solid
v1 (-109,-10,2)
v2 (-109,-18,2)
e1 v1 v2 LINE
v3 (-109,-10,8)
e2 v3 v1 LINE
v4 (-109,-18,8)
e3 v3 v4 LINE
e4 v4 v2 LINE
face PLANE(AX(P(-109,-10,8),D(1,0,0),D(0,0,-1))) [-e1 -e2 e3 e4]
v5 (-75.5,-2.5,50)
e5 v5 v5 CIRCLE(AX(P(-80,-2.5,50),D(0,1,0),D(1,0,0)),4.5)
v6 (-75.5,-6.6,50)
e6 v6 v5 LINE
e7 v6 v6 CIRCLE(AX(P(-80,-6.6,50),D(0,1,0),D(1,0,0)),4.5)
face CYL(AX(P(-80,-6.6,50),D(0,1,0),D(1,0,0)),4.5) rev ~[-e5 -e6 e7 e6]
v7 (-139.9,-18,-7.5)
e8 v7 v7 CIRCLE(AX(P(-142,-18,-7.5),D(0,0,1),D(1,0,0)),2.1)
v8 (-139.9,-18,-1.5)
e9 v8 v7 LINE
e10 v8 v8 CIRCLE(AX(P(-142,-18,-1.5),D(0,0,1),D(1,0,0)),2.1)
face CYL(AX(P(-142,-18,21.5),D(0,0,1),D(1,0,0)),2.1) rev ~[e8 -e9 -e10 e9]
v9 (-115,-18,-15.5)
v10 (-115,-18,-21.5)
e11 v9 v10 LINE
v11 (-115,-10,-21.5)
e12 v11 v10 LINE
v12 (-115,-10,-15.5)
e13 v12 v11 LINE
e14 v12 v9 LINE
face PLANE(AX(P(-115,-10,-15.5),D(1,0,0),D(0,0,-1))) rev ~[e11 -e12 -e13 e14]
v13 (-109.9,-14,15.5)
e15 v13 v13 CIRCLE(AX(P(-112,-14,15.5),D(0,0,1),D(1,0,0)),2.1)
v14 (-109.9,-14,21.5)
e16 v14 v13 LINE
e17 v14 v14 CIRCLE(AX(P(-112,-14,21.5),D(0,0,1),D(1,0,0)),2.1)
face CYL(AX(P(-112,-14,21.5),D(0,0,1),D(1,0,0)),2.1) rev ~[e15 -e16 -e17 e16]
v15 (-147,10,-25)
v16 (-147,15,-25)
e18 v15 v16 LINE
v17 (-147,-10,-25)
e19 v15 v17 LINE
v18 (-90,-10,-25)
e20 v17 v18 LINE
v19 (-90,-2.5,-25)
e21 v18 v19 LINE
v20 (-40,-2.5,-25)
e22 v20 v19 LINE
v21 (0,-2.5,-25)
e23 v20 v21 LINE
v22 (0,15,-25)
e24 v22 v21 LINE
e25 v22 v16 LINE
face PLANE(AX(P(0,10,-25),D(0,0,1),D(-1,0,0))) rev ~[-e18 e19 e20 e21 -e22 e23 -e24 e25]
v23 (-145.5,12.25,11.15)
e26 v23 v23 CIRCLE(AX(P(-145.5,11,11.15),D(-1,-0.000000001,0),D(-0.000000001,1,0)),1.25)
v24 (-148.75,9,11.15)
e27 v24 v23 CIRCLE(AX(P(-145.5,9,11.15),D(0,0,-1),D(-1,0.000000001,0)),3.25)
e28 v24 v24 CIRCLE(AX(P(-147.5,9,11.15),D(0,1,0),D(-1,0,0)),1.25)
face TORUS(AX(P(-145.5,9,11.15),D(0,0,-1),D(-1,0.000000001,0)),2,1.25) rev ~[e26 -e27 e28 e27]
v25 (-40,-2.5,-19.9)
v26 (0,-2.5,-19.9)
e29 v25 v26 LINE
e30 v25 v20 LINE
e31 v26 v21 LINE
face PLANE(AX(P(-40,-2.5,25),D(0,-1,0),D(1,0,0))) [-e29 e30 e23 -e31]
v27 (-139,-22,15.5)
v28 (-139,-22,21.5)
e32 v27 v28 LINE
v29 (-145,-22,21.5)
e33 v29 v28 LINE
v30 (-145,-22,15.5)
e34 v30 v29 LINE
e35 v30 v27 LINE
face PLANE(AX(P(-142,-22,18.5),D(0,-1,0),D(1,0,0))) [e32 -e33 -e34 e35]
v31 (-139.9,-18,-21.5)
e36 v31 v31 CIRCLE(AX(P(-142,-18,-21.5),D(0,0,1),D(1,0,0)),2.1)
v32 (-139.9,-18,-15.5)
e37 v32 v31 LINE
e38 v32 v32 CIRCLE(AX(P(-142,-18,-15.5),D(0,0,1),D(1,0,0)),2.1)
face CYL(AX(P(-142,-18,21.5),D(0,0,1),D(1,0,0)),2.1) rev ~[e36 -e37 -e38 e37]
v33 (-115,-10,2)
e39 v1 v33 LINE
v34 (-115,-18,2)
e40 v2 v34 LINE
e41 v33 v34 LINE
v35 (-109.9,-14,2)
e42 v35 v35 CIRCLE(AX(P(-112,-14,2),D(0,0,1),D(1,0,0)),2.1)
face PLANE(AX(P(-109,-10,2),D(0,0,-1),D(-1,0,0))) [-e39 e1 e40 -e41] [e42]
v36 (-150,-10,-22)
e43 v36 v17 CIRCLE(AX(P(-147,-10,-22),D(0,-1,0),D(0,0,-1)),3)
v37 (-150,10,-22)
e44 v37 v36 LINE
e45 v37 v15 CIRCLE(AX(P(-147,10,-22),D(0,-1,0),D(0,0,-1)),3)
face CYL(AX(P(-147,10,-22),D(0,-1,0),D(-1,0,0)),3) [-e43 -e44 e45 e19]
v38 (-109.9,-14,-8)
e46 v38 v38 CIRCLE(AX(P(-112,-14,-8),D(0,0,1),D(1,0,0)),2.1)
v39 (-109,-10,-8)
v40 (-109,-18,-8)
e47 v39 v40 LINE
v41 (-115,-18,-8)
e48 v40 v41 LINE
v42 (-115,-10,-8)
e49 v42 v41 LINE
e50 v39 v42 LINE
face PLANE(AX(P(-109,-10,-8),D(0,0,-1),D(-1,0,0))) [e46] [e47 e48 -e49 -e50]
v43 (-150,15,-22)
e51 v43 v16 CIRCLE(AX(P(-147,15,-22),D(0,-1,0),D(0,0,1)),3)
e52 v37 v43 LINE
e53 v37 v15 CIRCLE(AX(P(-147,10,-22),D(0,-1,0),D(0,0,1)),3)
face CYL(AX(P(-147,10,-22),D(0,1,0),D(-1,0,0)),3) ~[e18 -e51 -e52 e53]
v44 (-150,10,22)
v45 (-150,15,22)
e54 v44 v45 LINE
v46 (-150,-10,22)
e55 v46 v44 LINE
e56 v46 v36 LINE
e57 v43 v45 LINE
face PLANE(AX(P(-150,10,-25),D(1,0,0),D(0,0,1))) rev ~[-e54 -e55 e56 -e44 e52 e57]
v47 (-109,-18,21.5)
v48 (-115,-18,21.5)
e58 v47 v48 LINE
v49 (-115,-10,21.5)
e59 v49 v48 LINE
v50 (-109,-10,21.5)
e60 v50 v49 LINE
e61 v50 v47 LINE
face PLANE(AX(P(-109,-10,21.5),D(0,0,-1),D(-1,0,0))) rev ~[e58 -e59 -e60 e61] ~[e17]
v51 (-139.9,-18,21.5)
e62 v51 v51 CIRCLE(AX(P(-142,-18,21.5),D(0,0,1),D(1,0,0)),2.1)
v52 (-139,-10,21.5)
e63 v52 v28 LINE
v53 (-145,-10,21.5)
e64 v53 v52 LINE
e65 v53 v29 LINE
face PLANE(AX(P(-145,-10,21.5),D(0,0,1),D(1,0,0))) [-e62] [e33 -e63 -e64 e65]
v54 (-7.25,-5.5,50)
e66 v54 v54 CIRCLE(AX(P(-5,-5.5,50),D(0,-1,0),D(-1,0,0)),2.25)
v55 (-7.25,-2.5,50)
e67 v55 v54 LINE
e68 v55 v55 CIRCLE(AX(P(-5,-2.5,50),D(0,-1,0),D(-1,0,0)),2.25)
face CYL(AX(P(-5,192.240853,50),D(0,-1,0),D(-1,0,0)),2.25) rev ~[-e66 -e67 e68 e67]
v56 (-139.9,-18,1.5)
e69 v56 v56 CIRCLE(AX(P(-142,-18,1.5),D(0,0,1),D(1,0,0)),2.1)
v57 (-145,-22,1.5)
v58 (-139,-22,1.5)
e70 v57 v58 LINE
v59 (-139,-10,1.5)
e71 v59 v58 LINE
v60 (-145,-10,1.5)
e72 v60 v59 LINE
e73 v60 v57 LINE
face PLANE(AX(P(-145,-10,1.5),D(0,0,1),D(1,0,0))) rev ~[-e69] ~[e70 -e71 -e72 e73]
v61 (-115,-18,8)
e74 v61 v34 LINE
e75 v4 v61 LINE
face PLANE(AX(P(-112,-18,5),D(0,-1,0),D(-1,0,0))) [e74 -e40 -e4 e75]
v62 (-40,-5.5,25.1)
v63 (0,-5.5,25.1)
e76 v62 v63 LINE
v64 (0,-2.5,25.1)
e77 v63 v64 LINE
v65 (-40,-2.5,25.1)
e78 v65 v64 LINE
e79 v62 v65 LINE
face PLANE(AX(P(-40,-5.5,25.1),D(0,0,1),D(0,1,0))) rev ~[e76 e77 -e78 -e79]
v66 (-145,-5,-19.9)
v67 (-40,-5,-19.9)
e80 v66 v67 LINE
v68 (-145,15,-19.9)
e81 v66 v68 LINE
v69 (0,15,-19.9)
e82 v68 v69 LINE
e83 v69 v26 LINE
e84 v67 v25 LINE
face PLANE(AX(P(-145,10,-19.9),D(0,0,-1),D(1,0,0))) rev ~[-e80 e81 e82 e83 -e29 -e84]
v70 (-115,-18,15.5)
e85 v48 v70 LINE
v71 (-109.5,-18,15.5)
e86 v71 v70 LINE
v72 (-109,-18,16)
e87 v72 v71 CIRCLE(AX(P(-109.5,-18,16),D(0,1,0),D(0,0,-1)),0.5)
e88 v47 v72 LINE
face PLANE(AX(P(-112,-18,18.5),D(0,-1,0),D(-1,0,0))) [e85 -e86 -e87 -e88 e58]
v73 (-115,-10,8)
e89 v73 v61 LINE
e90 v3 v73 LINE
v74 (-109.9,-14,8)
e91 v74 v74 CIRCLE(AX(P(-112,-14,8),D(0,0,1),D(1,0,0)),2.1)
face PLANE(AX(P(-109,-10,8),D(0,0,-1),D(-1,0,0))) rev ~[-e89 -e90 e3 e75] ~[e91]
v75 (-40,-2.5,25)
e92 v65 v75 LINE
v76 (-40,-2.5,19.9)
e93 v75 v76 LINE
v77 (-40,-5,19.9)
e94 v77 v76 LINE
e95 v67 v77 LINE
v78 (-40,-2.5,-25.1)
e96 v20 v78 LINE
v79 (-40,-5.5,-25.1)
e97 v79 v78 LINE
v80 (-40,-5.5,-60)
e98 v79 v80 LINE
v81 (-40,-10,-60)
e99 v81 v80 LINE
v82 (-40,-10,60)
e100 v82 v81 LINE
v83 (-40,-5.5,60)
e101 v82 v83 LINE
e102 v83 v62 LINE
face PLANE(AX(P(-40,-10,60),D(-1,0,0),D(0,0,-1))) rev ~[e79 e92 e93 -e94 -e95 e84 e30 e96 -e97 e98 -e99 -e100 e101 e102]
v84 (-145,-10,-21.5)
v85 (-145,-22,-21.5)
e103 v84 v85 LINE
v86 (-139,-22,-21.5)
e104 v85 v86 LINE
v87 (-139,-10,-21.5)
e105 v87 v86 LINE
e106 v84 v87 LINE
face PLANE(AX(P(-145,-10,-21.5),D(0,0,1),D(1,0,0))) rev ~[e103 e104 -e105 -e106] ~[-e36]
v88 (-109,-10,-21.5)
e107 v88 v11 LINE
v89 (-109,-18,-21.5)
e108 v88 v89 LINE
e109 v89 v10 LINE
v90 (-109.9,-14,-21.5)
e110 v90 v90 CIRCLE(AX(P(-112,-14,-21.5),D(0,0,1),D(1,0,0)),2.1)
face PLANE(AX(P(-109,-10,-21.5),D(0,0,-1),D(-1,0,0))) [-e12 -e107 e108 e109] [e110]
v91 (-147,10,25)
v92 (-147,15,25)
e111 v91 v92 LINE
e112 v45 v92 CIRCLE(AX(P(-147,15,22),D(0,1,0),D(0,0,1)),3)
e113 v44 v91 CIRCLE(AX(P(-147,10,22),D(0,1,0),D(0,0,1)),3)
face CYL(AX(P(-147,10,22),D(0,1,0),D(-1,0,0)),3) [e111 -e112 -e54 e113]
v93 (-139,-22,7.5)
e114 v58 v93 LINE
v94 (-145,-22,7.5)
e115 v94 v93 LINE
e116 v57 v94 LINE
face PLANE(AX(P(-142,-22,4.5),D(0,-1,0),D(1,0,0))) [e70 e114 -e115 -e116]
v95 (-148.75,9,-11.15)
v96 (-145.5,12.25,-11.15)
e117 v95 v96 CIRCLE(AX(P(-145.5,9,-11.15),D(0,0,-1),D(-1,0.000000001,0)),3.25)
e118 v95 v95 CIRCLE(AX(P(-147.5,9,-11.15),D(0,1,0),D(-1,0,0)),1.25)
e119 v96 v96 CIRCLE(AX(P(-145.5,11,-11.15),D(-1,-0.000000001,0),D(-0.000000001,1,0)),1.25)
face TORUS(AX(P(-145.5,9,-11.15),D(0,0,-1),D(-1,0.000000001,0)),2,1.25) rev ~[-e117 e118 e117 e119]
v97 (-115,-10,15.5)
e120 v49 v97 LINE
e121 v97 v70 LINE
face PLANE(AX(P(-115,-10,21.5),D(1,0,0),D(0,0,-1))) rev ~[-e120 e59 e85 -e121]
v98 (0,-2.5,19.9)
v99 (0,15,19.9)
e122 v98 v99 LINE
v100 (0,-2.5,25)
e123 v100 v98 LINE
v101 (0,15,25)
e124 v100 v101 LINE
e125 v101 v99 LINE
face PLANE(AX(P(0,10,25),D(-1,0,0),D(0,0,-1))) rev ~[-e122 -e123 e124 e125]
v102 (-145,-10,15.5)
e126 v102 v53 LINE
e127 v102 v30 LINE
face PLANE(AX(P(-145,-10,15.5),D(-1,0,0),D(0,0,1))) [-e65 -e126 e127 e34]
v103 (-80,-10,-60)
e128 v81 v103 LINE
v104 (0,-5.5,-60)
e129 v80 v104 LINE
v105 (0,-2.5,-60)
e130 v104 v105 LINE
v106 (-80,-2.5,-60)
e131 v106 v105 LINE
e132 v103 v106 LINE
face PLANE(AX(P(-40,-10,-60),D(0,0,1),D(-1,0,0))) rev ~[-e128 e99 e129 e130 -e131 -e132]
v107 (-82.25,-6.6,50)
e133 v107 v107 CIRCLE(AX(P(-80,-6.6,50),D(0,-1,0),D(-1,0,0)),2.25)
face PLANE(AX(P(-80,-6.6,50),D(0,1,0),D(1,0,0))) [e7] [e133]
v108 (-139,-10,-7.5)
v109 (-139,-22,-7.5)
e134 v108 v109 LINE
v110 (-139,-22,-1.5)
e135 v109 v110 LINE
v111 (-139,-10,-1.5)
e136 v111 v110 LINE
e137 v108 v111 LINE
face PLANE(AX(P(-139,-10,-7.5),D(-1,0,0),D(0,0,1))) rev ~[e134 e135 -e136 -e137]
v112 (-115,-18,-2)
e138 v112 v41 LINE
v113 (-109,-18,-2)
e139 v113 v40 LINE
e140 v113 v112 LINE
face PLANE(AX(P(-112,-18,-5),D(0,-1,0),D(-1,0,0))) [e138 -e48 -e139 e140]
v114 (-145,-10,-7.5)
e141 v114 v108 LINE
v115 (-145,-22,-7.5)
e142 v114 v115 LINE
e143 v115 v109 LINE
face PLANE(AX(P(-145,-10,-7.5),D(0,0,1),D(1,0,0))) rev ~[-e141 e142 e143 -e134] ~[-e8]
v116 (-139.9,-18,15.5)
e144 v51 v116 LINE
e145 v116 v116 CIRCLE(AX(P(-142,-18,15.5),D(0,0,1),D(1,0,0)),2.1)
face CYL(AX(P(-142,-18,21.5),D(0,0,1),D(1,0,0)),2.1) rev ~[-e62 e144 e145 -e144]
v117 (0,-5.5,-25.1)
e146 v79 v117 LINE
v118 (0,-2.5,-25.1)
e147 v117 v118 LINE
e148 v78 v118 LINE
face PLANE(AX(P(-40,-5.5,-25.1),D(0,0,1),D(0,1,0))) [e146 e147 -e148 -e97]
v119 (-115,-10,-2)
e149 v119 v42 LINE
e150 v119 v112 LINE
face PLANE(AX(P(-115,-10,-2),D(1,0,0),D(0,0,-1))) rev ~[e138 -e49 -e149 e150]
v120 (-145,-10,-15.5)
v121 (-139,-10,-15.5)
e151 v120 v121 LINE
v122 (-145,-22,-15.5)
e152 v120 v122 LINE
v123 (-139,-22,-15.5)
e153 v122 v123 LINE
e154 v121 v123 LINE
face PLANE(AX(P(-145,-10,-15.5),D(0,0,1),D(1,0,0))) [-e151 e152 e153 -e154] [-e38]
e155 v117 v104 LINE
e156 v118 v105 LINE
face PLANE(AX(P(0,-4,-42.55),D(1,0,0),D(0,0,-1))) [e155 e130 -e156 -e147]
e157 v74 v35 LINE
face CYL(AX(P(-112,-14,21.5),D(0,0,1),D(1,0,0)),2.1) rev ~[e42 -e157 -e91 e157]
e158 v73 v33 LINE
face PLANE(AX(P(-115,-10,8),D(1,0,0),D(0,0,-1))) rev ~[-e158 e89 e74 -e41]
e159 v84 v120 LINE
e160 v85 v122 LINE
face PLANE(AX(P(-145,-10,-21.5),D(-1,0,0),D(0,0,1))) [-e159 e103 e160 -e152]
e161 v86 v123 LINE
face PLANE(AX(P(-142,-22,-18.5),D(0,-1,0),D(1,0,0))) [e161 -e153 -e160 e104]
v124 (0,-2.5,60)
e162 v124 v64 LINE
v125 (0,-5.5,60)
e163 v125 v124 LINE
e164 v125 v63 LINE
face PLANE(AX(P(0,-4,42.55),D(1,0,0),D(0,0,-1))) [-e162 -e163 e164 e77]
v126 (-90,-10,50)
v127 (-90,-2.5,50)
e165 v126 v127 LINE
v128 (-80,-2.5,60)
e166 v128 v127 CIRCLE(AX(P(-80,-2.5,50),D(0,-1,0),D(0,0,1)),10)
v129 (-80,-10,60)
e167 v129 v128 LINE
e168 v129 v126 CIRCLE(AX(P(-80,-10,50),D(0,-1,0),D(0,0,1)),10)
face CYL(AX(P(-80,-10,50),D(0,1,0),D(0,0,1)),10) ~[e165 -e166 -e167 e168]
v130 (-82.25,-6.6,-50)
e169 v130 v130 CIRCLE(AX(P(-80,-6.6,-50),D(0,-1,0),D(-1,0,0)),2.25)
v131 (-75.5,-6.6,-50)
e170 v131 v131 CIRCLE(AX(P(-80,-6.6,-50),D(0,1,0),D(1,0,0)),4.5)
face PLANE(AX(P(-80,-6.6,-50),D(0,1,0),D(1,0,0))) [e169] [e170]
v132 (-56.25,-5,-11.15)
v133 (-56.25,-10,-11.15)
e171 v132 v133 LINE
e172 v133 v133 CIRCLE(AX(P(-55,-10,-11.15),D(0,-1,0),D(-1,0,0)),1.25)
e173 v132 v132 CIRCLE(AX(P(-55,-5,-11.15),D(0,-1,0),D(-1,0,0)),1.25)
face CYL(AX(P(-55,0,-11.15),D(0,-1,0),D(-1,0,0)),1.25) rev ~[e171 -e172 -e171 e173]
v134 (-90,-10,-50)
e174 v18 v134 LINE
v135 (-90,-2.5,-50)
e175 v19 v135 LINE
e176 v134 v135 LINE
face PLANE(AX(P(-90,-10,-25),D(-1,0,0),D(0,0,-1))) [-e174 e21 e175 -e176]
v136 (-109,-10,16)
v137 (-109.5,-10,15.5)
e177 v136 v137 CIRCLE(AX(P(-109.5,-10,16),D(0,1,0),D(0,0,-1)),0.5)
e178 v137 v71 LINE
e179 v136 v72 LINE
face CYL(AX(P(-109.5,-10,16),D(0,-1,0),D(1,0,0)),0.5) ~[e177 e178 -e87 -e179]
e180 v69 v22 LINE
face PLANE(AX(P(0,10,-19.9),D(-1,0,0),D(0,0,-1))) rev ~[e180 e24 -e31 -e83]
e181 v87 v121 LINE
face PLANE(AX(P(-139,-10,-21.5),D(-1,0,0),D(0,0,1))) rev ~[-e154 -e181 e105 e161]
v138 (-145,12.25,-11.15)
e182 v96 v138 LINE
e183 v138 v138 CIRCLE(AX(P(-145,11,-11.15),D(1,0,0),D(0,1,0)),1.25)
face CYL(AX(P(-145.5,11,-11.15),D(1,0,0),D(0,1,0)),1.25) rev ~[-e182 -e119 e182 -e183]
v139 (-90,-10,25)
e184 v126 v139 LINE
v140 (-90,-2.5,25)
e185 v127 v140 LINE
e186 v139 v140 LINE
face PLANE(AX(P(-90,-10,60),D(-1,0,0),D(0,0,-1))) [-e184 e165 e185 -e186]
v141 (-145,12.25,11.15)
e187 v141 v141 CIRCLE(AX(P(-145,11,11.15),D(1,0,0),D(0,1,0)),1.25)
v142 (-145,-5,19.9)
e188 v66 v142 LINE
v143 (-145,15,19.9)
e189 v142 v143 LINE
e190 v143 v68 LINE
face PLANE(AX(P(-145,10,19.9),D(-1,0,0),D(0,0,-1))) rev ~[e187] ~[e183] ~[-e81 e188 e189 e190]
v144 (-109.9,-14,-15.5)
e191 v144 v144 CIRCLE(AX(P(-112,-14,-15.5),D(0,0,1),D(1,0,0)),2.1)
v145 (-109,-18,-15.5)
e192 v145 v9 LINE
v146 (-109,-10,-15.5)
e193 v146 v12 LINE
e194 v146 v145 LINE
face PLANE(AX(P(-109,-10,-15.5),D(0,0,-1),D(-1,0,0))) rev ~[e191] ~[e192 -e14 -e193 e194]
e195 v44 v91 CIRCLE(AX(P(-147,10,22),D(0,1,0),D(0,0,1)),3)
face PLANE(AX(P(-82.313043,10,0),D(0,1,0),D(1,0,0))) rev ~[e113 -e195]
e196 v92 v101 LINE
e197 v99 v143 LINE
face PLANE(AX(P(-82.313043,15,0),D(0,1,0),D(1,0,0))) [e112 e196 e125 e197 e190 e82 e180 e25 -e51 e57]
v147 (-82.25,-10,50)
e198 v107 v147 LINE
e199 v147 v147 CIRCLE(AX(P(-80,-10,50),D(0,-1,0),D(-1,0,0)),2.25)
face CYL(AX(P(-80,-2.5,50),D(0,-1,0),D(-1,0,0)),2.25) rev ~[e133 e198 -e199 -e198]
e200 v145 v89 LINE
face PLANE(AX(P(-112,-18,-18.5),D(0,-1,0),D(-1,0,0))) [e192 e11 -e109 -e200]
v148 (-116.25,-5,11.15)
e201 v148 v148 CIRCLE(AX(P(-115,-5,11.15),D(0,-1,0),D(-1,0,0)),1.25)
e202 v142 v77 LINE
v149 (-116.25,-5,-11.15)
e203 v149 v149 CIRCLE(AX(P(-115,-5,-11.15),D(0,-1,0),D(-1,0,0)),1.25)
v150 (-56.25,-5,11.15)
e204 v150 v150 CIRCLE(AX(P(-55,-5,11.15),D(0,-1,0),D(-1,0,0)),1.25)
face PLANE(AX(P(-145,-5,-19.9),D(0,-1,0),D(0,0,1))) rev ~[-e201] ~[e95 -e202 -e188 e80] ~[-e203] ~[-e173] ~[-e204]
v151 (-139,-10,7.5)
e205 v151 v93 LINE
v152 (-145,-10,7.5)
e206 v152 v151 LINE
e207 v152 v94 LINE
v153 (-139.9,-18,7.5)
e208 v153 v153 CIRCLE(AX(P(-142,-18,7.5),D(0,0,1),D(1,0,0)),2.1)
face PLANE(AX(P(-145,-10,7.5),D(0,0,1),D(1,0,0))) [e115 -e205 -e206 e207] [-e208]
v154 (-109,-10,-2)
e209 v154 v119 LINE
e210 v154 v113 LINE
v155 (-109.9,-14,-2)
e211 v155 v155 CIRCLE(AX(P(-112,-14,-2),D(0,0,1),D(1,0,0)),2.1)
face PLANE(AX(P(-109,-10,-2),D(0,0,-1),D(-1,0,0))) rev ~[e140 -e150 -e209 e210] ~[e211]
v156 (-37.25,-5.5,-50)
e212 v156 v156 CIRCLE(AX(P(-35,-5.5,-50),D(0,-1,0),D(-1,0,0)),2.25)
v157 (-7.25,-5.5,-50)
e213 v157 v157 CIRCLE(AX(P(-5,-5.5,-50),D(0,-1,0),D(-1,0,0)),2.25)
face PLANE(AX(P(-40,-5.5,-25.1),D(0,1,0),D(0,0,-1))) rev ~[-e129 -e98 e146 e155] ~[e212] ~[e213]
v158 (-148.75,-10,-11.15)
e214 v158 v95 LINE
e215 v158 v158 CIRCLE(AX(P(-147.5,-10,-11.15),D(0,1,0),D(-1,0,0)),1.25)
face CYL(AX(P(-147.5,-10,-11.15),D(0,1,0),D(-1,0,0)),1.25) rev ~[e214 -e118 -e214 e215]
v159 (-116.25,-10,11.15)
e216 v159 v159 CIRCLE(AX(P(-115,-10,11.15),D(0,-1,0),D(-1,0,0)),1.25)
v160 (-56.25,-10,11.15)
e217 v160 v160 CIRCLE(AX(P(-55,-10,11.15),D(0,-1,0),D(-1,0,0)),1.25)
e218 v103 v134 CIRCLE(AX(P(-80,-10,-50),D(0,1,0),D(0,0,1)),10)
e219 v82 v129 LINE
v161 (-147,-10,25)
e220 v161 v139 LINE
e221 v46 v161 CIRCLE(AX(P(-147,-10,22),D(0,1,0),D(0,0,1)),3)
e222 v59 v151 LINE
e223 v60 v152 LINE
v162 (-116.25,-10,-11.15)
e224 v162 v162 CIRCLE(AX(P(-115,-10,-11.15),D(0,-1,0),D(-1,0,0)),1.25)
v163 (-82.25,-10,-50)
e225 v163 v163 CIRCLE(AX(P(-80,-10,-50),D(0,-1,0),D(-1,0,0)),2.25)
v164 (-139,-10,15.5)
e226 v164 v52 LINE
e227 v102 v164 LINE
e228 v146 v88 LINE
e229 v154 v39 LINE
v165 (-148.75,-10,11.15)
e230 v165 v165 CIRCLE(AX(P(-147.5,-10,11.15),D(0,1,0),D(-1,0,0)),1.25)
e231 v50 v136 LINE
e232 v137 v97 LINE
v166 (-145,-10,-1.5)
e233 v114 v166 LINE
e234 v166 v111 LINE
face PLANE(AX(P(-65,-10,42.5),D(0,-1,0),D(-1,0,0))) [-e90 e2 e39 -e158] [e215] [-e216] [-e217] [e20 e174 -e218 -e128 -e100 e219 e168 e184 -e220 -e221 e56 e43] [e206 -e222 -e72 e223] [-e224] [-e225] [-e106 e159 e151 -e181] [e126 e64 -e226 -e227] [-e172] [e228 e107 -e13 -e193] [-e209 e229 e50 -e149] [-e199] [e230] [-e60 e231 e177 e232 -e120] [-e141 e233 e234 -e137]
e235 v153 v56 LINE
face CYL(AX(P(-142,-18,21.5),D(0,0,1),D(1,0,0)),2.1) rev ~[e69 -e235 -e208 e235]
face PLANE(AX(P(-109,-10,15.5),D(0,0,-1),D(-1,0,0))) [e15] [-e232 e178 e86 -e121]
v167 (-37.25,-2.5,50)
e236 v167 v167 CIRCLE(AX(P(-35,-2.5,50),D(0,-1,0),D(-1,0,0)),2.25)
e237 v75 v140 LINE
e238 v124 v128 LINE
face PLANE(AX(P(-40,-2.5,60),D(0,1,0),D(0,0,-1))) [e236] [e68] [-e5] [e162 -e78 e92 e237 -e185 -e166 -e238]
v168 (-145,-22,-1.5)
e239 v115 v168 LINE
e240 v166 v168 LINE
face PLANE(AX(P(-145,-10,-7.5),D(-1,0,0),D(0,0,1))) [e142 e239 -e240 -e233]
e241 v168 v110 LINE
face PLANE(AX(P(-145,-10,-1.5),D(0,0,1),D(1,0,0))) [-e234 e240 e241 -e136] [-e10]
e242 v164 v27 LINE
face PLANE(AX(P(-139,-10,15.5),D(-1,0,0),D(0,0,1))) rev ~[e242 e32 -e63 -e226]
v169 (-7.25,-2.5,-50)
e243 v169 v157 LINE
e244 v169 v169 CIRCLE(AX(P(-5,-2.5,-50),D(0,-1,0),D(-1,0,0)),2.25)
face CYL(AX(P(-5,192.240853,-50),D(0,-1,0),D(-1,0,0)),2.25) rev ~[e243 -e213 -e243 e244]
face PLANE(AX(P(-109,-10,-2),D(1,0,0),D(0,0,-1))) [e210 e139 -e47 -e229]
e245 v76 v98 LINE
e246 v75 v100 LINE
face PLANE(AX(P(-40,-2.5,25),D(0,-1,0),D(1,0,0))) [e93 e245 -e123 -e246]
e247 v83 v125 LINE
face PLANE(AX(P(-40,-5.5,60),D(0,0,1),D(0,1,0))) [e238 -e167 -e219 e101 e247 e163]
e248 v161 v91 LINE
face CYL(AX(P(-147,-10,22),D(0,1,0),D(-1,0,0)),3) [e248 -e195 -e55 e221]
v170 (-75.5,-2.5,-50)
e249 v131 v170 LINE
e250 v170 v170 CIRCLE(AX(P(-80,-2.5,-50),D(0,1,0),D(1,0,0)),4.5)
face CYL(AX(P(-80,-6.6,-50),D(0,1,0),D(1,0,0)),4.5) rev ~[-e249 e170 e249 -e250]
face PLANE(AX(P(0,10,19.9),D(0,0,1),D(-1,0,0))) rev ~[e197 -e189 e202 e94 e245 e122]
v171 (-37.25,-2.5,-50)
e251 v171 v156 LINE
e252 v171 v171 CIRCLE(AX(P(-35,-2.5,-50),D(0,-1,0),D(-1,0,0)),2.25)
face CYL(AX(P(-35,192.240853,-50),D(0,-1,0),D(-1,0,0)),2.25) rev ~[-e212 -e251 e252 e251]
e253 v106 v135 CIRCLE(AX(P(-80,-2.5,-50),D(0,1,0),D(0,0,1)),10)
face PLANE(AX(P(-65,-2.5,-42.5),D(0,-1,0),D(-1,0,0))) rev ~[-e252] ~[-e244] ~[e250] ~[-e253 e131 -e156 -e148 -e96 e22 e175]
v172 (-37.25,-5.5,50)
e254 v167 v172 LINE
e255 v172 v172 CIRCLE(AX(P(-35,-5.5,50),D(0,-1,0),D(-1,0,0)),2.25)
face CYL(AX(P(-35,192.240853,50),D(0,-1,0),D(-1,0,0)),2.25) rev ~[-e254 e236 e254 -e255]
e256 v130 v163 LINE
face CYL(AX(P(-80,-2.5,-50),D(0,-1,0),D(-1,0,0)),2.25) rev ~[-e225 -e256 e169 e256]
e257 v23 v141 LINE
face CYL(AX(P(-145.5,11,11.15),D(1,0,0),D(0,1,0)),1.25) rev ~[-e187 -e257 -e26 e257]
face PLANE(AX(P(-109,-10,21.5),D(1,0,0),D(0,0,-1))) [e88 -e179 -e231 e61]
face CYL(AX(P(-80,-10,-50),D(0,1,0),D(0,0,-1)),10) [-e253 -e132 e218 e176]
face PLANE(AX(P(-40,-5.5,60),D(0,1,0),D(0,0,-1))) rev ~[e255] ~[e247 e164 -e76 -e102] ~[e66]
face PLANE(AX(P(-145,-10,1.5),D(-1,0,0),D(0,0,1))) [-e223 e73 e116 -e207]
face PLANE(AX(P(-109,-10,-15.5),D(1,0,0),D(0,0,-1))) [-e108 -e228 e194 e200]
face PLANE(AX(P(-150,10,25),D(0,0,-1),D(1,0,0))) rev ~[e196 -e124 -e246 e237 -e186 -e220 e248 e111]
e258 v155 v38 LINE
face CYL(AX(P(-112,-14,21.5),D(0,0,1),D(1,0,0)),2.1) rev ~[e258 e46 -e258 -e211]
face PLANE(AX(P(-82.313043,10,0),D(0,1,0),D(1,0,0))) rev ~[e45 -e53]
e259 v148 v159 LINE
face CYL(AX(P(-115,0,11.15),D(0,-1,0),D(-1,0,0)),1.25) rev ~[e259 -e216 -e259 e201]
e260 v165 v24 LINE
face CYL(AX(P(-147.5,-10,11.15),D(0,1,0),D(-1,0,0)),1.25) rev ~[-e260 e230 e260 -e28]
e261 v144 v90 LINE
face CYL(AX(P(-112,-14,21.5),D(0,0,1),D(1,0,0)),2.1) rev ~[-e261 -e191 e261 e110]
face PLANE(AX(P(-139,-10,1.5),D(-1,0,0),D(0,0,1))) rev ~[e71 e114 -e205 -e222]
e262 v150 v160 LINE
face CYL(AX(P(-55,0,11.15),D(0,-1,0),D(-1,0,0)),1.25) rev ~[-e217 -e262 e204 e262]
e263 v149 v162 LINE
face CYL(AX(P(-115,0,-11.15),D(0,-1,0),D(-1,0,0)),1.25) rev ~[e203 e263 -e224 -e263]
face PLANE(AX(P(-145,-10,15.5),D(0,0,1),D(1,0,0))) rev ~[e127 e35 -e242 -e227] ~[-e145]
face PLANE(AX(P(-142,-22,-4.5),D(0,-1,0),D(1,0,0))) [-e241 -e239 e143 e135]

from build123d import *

# Parameters (mm, degrees)
SKETCH_1_W                   = 300
SKETCH_1_H                   = 50
EXTRUDE_1_DEPTH              = 10
SKETCH_2_W                   = 300
SKETCH_2_H                   = 10.1
SKETCH_2_H_2                 = 9.2
CUT_EXTRUDE_1_DEPTH          = 5
FILLET_1_R                   = 3
CUT_EXTRUDE_START            = -5
SKETCH_10_W                  = 39.8
SKETCH_10_H                  = 15
CUT_EXTRUDE_4_DEPTH          = 145
CUT_EXTRUDE_6_DEPTH          = 51
SKETCH_13_W                  = 50
SKETCH_13_H                  = 35
EXTRUDE_2_DEPTH              = 7.5
HOLE_WIZARD_M4_1_D           = 4.5
HOLE_WIZARD_M4_1_CBORE_D     = 9
HOLE_WIZARD_M4_1_CBORE_DEPTH = 4.1
SKETCH_16_W                  = 6
SKETCH_16_H                  = 6
EXTRUDE_3_DEPTH              = 8
SKETCH_17_R                  = 2.1
CUT_EXTRUDE_7_DEPTH          = 82.5
SKETCH_19_W                  = 6
SKETCH_19_H                  = 6
EXTRUDE_4_DEPTH              = 12
SKETCH_20_R                  = 2.1
CUT_EXTRUDE_9_DEPTH          = 82.5
SKETCH_23_W                  = 34.9
SKETCH_23_H                  = 3
EXTRUDE_9_DEPTH              = 40
HOLE_WIZARD_M4_1_2_D         = 4.5
FILLET_2_R                   = 0.5
SKETCH_27_W                  = 5
SKETCH_27_H                  = 32.4
EXTRUDE_10_DEPTH             = 5
HOLE_WIZARD_M3_1_D           = 2.5
HOLE_WIZARD_M3_1_DEPTH       = 5
EXTRUDE_12_DEPTH             = 5
FILLET_3_R                   = 3
SKETCH_21_R                  = 1.25
FILLET_4_R                   = 10


with BuildPart() as part:
    # 스케치1 → 보스-돌출1 (new body, symmetric)
    with BuildSketch(Plane(origin=(0, 0, 0), x_dir=(1, 0, 0), z_dir=(0, 1, 0))):
        Rectangle(SKETCH_1_W, SKETCH_1_H)
    extrude(amount=EXTRUDE_1_DEPTH, both=True)

    # 스케치2 → 컷-돌출1 (cut)
    with BuildSketch(Plane(origin=(0, 10, 0), x_dir=(1, 0, 0), z_dir=(0, 1, 0))):
        with Locations((0, 11.15)):
            Rectangle(SKETCH_2_W, SKETCH_2_H)
        Rectangle(SKETCH_2_W, SKETCH_2_H_2)
        with Locations((0, -11.15)):
            Rectangle(SKETCH_2_W, SKETCH_2_H)
    extrude(amount=-CUT_EXTRUDE_1_DEPTH, mode=Mode.SUBTRACT)

    # 필렛1
    fillet_1_edges = [part.edges().sort_by_distance(p)[0] for p in [
        (150, 0, 25),
        (-150, 0, 25),
        (-150, 0, -25),
        (150, 0, -25),
    ]]
    fillet(fillet_1_edges, radius=FILLET_1_R)

    # 스케치10 → 컷-돌출4 (cut)
    with BuildSketch(Plane.ZY.offset(150).offset(CUT_EXTRUDE_START)):
        with Locations((0, 2.5)):
            Rectangle(SKETCH_10_W, SKETCH_10_H)
    extrude(amount=-CUT_EXTRUDE_4_DEPTH, mode=Mode.SUBTRACT)

    # 스케치12 → 컷-돌출6 (cut, through all)
    with BuildSketch(Plane.XY.offset(25)):
        Polygon((-40, -10), (-40, -2.5), (0, -2.5), (0, 10), (150, 10), (150, -10), align=None)
    extrude(amount=-CUT_EXTRUDE_6_DEPTH, mode=Mode.SUBTRACT)

    # 스케치13 → 보스-돌출2 (add)
    with BuildSketch(Plane(origin=(0, -10, 0), x_dir=(-1, 0, 0), z_dir=(0, -1, 0))):
        with Locations((65, -42.5)):
            Rectangle(SKETCH_13_W, SKETCH_13_H)
        with Locations((65, 42.5)):
            Rectangle(SKETCH_13_W, SKETCH_13_H)
    extrude(amount=-EXTRUDE_2_DEPTH)

    # Hole Wizard M4 _ _ _ _1 (through all)
    with Locations(Plane(origin=(0, -2.5, 0), x_dir=(1, 0, 0), z_dir=(0, 1, 0))):
        with Locations((-80, 50), (-80, -50)):
            CounterBoreHole(HOLE_WIZARD_M4_1_D / 2, HOLE_WIZARD_M4_1_CBORE_D / 2, HOLE_WIZARD_M4_1_CBORE_DEPTH)

    # 스케치16 → 보스-돌출3 (add)
    with BuildSketch(Plane(origin=(0, -10, 0), x_dir=(-1, 0, 0), z_dir=(0, -1, 0))):
        with Locations((112, -18.5)):
            Rectangle(SKETCH_16_W, SKETCH_16_H)
        with Locations((112, -5)):
            Rectangle(SKETCH_16_W, SKETCH_16_H)
        with Locations((112, 5)):
            Rectangle(SKETCH_16_W, SKETCH_16_H)
        with Locations((112, 18.5)):
            Rectangle(SKETCH_16_W, SKETCH_16_H)
    extrude(amount=EXTRUDE_3_DEPTH)

    # 스케치17 → 컷-돌출7 (cut, through all)
    with BuildSketch(Plane.XY.offset(21.5)):
        with Locations((-112, -14)):
            Circle(SKETCH_17_R)
    extrude(amount=-CUT_EXTRUDE_7_DEPTH, mode=Mode.SUBTRACT)

    # 스케치19 → 보스-돌출4 (add)
    with BuildSketch(Plane.XZ.offset(10)):
        with Locations((-142, 18.5)):
            Rectangle(SKETCH_19_W, SKETCH_19_H)
        with Locations((-142, 4.5)):
            Rectangle(SKETCH_19_W, SKETCH_19_H)
        with Locations((-142, -4.5)):
            Rectangle(SKETCH_19_W, SKETCH_19_H)
        with Locations((-142, -18.5)):
            Rectangle(SKETCH_19_W, SKETCH_19_H)
    extrude(amount=EXTRUDE_4_DEPTH)

    # 스케치20 → 컷-돌출9 (cut, through all)
    with BuildSketch(Plane.XY.offset(21.5)):
        with Locations((-142, -18)):
            Circle(SKETCH_20_R)
    extrude(amount=-CUT_EXTRUDE_9_DEPTH, mode=Mode.SUBTRACT)

    # 스케치23 → 보스-돌출9 (add)
    with BuildSketch(Plane(origin=(-40, 0, 0), x_dir=(0, 0, -1), z_dir=(1, 0, 0))):
        with Locations((-42.55, -4)):
            Rectangle(SKETCH_23_W, SKETCH_23_H)
        with Locations((42.55, -4)):
            Rectangle(SKETCH_23_W, SKETCH_23_H)
    extrude(amount=EXTRUDE_9_DEPTH)

    # Hole Wizard M4 _ _1 2 (through all)
    with Locations(Plane(origin=(0, -2.5, 0), x_dir=(1, 0, 0), z_dir=(0, 1, 0))):
        with Locations((-35, 50), (-5, 50), (-5, -50), (-35, -50)):
            Hole(HOLE_WIZARD_M4_1_2_D / 2)

    # 필렛2
    fillet_2_edges = [part.edges().sort_by_distance(p)[0] for p in [
        (-109, -14, 15.5),
    ]]
    fillet(fillet_2_edges, radius=FILLET_2_R)

    # 스케치27 → 보스-돌출10 (add)
    with BuildSketch(Plane(origin=(0, 5, 0), x_dir=(1, 0, 0), z_dir=(0, 1, 0))):
        with Locations((-147.5, 0)):
            Rectangle(SKETCH_27_W, SKETCH_27_H)
    extrude(amount=EXTRUDE_10_DEPTH)

    # M3 나사 구멍1
    with Locations(Plane(origin=(0, -5, 0), x_dir=(1, 0, 0), z_dir=(0, 1, 0))):
        with Locations((-115, 11.15), (-115, -11.15), (-55, 11.15), (-55, -11.15)):
            Hole(HOLE_WIZARD_M3_1_D / 2, depth=HOLE_WIZARD_M3_1_DEPTH)

    # 스케치34 → 보스-돌출12 (add)
    with BuildSketch(Plane(origin=(0, 10, 0), x_dir=(1, 0, 0), z_dir=(0, 1, 0))):
        Polygon((-150, 25), (-150, -25), (0, -25), (0, -19.9), (-145, -19.9), (-145, 19.9), (0, 19.9), (0, 25), align=None)
    extrude(amount=EXTRUDE_12_DEPTH)

    # 필렛3
    fillet_3_edges = [part.edges().sort_by_distance(p)[0] for p in [
        (-150, 12.5, 25),
        (-150, 12.5, -25),
    ]]
    fillet(fillet_3_edges, radius=FILLET_3_R)

    # 컷-스윕1: sweep along a path in 스케치22
    with BuildLine(Plane(origin=(0, 0, 11.15), x_dir=(-1, 0, 0), z_dir=(0, 0, -1))) as sweep_1_path:
        Line((147.5, -10), (147.5, 9))
        ThreePointArc((147.5, 9), (146.914213562, 10.414213562), (145.5, 11))
        Line((145.5, 11), (144.5, 11))
    # 스케치21 → 컷-스윕1 (sweep, cut)
    with BuildSketch(Plane(origin=(0, -10, 0), x_dir=(-1, 0, 0), z_dir=(0, -1, 0))):
        with Locations((147.5, -11.15)):
            Circle(SKETCH_21_R)
        with Locations((147.5, 11.15)):
            Circle(SKETCH_21_R)
    sweep(path=sweep_1_path.line, mode=Mode.SUBTRACT)

    # 필렛4
    fillet_4_edges = [part.edges().sort_by_distance(p)[0] for p in [
        (-90, -6.25, 60),
        (-90, -6.25, -60),
    ]]
    fillet(fillet_4_edges, radius=FILLET_4_R)


solid = part.part
